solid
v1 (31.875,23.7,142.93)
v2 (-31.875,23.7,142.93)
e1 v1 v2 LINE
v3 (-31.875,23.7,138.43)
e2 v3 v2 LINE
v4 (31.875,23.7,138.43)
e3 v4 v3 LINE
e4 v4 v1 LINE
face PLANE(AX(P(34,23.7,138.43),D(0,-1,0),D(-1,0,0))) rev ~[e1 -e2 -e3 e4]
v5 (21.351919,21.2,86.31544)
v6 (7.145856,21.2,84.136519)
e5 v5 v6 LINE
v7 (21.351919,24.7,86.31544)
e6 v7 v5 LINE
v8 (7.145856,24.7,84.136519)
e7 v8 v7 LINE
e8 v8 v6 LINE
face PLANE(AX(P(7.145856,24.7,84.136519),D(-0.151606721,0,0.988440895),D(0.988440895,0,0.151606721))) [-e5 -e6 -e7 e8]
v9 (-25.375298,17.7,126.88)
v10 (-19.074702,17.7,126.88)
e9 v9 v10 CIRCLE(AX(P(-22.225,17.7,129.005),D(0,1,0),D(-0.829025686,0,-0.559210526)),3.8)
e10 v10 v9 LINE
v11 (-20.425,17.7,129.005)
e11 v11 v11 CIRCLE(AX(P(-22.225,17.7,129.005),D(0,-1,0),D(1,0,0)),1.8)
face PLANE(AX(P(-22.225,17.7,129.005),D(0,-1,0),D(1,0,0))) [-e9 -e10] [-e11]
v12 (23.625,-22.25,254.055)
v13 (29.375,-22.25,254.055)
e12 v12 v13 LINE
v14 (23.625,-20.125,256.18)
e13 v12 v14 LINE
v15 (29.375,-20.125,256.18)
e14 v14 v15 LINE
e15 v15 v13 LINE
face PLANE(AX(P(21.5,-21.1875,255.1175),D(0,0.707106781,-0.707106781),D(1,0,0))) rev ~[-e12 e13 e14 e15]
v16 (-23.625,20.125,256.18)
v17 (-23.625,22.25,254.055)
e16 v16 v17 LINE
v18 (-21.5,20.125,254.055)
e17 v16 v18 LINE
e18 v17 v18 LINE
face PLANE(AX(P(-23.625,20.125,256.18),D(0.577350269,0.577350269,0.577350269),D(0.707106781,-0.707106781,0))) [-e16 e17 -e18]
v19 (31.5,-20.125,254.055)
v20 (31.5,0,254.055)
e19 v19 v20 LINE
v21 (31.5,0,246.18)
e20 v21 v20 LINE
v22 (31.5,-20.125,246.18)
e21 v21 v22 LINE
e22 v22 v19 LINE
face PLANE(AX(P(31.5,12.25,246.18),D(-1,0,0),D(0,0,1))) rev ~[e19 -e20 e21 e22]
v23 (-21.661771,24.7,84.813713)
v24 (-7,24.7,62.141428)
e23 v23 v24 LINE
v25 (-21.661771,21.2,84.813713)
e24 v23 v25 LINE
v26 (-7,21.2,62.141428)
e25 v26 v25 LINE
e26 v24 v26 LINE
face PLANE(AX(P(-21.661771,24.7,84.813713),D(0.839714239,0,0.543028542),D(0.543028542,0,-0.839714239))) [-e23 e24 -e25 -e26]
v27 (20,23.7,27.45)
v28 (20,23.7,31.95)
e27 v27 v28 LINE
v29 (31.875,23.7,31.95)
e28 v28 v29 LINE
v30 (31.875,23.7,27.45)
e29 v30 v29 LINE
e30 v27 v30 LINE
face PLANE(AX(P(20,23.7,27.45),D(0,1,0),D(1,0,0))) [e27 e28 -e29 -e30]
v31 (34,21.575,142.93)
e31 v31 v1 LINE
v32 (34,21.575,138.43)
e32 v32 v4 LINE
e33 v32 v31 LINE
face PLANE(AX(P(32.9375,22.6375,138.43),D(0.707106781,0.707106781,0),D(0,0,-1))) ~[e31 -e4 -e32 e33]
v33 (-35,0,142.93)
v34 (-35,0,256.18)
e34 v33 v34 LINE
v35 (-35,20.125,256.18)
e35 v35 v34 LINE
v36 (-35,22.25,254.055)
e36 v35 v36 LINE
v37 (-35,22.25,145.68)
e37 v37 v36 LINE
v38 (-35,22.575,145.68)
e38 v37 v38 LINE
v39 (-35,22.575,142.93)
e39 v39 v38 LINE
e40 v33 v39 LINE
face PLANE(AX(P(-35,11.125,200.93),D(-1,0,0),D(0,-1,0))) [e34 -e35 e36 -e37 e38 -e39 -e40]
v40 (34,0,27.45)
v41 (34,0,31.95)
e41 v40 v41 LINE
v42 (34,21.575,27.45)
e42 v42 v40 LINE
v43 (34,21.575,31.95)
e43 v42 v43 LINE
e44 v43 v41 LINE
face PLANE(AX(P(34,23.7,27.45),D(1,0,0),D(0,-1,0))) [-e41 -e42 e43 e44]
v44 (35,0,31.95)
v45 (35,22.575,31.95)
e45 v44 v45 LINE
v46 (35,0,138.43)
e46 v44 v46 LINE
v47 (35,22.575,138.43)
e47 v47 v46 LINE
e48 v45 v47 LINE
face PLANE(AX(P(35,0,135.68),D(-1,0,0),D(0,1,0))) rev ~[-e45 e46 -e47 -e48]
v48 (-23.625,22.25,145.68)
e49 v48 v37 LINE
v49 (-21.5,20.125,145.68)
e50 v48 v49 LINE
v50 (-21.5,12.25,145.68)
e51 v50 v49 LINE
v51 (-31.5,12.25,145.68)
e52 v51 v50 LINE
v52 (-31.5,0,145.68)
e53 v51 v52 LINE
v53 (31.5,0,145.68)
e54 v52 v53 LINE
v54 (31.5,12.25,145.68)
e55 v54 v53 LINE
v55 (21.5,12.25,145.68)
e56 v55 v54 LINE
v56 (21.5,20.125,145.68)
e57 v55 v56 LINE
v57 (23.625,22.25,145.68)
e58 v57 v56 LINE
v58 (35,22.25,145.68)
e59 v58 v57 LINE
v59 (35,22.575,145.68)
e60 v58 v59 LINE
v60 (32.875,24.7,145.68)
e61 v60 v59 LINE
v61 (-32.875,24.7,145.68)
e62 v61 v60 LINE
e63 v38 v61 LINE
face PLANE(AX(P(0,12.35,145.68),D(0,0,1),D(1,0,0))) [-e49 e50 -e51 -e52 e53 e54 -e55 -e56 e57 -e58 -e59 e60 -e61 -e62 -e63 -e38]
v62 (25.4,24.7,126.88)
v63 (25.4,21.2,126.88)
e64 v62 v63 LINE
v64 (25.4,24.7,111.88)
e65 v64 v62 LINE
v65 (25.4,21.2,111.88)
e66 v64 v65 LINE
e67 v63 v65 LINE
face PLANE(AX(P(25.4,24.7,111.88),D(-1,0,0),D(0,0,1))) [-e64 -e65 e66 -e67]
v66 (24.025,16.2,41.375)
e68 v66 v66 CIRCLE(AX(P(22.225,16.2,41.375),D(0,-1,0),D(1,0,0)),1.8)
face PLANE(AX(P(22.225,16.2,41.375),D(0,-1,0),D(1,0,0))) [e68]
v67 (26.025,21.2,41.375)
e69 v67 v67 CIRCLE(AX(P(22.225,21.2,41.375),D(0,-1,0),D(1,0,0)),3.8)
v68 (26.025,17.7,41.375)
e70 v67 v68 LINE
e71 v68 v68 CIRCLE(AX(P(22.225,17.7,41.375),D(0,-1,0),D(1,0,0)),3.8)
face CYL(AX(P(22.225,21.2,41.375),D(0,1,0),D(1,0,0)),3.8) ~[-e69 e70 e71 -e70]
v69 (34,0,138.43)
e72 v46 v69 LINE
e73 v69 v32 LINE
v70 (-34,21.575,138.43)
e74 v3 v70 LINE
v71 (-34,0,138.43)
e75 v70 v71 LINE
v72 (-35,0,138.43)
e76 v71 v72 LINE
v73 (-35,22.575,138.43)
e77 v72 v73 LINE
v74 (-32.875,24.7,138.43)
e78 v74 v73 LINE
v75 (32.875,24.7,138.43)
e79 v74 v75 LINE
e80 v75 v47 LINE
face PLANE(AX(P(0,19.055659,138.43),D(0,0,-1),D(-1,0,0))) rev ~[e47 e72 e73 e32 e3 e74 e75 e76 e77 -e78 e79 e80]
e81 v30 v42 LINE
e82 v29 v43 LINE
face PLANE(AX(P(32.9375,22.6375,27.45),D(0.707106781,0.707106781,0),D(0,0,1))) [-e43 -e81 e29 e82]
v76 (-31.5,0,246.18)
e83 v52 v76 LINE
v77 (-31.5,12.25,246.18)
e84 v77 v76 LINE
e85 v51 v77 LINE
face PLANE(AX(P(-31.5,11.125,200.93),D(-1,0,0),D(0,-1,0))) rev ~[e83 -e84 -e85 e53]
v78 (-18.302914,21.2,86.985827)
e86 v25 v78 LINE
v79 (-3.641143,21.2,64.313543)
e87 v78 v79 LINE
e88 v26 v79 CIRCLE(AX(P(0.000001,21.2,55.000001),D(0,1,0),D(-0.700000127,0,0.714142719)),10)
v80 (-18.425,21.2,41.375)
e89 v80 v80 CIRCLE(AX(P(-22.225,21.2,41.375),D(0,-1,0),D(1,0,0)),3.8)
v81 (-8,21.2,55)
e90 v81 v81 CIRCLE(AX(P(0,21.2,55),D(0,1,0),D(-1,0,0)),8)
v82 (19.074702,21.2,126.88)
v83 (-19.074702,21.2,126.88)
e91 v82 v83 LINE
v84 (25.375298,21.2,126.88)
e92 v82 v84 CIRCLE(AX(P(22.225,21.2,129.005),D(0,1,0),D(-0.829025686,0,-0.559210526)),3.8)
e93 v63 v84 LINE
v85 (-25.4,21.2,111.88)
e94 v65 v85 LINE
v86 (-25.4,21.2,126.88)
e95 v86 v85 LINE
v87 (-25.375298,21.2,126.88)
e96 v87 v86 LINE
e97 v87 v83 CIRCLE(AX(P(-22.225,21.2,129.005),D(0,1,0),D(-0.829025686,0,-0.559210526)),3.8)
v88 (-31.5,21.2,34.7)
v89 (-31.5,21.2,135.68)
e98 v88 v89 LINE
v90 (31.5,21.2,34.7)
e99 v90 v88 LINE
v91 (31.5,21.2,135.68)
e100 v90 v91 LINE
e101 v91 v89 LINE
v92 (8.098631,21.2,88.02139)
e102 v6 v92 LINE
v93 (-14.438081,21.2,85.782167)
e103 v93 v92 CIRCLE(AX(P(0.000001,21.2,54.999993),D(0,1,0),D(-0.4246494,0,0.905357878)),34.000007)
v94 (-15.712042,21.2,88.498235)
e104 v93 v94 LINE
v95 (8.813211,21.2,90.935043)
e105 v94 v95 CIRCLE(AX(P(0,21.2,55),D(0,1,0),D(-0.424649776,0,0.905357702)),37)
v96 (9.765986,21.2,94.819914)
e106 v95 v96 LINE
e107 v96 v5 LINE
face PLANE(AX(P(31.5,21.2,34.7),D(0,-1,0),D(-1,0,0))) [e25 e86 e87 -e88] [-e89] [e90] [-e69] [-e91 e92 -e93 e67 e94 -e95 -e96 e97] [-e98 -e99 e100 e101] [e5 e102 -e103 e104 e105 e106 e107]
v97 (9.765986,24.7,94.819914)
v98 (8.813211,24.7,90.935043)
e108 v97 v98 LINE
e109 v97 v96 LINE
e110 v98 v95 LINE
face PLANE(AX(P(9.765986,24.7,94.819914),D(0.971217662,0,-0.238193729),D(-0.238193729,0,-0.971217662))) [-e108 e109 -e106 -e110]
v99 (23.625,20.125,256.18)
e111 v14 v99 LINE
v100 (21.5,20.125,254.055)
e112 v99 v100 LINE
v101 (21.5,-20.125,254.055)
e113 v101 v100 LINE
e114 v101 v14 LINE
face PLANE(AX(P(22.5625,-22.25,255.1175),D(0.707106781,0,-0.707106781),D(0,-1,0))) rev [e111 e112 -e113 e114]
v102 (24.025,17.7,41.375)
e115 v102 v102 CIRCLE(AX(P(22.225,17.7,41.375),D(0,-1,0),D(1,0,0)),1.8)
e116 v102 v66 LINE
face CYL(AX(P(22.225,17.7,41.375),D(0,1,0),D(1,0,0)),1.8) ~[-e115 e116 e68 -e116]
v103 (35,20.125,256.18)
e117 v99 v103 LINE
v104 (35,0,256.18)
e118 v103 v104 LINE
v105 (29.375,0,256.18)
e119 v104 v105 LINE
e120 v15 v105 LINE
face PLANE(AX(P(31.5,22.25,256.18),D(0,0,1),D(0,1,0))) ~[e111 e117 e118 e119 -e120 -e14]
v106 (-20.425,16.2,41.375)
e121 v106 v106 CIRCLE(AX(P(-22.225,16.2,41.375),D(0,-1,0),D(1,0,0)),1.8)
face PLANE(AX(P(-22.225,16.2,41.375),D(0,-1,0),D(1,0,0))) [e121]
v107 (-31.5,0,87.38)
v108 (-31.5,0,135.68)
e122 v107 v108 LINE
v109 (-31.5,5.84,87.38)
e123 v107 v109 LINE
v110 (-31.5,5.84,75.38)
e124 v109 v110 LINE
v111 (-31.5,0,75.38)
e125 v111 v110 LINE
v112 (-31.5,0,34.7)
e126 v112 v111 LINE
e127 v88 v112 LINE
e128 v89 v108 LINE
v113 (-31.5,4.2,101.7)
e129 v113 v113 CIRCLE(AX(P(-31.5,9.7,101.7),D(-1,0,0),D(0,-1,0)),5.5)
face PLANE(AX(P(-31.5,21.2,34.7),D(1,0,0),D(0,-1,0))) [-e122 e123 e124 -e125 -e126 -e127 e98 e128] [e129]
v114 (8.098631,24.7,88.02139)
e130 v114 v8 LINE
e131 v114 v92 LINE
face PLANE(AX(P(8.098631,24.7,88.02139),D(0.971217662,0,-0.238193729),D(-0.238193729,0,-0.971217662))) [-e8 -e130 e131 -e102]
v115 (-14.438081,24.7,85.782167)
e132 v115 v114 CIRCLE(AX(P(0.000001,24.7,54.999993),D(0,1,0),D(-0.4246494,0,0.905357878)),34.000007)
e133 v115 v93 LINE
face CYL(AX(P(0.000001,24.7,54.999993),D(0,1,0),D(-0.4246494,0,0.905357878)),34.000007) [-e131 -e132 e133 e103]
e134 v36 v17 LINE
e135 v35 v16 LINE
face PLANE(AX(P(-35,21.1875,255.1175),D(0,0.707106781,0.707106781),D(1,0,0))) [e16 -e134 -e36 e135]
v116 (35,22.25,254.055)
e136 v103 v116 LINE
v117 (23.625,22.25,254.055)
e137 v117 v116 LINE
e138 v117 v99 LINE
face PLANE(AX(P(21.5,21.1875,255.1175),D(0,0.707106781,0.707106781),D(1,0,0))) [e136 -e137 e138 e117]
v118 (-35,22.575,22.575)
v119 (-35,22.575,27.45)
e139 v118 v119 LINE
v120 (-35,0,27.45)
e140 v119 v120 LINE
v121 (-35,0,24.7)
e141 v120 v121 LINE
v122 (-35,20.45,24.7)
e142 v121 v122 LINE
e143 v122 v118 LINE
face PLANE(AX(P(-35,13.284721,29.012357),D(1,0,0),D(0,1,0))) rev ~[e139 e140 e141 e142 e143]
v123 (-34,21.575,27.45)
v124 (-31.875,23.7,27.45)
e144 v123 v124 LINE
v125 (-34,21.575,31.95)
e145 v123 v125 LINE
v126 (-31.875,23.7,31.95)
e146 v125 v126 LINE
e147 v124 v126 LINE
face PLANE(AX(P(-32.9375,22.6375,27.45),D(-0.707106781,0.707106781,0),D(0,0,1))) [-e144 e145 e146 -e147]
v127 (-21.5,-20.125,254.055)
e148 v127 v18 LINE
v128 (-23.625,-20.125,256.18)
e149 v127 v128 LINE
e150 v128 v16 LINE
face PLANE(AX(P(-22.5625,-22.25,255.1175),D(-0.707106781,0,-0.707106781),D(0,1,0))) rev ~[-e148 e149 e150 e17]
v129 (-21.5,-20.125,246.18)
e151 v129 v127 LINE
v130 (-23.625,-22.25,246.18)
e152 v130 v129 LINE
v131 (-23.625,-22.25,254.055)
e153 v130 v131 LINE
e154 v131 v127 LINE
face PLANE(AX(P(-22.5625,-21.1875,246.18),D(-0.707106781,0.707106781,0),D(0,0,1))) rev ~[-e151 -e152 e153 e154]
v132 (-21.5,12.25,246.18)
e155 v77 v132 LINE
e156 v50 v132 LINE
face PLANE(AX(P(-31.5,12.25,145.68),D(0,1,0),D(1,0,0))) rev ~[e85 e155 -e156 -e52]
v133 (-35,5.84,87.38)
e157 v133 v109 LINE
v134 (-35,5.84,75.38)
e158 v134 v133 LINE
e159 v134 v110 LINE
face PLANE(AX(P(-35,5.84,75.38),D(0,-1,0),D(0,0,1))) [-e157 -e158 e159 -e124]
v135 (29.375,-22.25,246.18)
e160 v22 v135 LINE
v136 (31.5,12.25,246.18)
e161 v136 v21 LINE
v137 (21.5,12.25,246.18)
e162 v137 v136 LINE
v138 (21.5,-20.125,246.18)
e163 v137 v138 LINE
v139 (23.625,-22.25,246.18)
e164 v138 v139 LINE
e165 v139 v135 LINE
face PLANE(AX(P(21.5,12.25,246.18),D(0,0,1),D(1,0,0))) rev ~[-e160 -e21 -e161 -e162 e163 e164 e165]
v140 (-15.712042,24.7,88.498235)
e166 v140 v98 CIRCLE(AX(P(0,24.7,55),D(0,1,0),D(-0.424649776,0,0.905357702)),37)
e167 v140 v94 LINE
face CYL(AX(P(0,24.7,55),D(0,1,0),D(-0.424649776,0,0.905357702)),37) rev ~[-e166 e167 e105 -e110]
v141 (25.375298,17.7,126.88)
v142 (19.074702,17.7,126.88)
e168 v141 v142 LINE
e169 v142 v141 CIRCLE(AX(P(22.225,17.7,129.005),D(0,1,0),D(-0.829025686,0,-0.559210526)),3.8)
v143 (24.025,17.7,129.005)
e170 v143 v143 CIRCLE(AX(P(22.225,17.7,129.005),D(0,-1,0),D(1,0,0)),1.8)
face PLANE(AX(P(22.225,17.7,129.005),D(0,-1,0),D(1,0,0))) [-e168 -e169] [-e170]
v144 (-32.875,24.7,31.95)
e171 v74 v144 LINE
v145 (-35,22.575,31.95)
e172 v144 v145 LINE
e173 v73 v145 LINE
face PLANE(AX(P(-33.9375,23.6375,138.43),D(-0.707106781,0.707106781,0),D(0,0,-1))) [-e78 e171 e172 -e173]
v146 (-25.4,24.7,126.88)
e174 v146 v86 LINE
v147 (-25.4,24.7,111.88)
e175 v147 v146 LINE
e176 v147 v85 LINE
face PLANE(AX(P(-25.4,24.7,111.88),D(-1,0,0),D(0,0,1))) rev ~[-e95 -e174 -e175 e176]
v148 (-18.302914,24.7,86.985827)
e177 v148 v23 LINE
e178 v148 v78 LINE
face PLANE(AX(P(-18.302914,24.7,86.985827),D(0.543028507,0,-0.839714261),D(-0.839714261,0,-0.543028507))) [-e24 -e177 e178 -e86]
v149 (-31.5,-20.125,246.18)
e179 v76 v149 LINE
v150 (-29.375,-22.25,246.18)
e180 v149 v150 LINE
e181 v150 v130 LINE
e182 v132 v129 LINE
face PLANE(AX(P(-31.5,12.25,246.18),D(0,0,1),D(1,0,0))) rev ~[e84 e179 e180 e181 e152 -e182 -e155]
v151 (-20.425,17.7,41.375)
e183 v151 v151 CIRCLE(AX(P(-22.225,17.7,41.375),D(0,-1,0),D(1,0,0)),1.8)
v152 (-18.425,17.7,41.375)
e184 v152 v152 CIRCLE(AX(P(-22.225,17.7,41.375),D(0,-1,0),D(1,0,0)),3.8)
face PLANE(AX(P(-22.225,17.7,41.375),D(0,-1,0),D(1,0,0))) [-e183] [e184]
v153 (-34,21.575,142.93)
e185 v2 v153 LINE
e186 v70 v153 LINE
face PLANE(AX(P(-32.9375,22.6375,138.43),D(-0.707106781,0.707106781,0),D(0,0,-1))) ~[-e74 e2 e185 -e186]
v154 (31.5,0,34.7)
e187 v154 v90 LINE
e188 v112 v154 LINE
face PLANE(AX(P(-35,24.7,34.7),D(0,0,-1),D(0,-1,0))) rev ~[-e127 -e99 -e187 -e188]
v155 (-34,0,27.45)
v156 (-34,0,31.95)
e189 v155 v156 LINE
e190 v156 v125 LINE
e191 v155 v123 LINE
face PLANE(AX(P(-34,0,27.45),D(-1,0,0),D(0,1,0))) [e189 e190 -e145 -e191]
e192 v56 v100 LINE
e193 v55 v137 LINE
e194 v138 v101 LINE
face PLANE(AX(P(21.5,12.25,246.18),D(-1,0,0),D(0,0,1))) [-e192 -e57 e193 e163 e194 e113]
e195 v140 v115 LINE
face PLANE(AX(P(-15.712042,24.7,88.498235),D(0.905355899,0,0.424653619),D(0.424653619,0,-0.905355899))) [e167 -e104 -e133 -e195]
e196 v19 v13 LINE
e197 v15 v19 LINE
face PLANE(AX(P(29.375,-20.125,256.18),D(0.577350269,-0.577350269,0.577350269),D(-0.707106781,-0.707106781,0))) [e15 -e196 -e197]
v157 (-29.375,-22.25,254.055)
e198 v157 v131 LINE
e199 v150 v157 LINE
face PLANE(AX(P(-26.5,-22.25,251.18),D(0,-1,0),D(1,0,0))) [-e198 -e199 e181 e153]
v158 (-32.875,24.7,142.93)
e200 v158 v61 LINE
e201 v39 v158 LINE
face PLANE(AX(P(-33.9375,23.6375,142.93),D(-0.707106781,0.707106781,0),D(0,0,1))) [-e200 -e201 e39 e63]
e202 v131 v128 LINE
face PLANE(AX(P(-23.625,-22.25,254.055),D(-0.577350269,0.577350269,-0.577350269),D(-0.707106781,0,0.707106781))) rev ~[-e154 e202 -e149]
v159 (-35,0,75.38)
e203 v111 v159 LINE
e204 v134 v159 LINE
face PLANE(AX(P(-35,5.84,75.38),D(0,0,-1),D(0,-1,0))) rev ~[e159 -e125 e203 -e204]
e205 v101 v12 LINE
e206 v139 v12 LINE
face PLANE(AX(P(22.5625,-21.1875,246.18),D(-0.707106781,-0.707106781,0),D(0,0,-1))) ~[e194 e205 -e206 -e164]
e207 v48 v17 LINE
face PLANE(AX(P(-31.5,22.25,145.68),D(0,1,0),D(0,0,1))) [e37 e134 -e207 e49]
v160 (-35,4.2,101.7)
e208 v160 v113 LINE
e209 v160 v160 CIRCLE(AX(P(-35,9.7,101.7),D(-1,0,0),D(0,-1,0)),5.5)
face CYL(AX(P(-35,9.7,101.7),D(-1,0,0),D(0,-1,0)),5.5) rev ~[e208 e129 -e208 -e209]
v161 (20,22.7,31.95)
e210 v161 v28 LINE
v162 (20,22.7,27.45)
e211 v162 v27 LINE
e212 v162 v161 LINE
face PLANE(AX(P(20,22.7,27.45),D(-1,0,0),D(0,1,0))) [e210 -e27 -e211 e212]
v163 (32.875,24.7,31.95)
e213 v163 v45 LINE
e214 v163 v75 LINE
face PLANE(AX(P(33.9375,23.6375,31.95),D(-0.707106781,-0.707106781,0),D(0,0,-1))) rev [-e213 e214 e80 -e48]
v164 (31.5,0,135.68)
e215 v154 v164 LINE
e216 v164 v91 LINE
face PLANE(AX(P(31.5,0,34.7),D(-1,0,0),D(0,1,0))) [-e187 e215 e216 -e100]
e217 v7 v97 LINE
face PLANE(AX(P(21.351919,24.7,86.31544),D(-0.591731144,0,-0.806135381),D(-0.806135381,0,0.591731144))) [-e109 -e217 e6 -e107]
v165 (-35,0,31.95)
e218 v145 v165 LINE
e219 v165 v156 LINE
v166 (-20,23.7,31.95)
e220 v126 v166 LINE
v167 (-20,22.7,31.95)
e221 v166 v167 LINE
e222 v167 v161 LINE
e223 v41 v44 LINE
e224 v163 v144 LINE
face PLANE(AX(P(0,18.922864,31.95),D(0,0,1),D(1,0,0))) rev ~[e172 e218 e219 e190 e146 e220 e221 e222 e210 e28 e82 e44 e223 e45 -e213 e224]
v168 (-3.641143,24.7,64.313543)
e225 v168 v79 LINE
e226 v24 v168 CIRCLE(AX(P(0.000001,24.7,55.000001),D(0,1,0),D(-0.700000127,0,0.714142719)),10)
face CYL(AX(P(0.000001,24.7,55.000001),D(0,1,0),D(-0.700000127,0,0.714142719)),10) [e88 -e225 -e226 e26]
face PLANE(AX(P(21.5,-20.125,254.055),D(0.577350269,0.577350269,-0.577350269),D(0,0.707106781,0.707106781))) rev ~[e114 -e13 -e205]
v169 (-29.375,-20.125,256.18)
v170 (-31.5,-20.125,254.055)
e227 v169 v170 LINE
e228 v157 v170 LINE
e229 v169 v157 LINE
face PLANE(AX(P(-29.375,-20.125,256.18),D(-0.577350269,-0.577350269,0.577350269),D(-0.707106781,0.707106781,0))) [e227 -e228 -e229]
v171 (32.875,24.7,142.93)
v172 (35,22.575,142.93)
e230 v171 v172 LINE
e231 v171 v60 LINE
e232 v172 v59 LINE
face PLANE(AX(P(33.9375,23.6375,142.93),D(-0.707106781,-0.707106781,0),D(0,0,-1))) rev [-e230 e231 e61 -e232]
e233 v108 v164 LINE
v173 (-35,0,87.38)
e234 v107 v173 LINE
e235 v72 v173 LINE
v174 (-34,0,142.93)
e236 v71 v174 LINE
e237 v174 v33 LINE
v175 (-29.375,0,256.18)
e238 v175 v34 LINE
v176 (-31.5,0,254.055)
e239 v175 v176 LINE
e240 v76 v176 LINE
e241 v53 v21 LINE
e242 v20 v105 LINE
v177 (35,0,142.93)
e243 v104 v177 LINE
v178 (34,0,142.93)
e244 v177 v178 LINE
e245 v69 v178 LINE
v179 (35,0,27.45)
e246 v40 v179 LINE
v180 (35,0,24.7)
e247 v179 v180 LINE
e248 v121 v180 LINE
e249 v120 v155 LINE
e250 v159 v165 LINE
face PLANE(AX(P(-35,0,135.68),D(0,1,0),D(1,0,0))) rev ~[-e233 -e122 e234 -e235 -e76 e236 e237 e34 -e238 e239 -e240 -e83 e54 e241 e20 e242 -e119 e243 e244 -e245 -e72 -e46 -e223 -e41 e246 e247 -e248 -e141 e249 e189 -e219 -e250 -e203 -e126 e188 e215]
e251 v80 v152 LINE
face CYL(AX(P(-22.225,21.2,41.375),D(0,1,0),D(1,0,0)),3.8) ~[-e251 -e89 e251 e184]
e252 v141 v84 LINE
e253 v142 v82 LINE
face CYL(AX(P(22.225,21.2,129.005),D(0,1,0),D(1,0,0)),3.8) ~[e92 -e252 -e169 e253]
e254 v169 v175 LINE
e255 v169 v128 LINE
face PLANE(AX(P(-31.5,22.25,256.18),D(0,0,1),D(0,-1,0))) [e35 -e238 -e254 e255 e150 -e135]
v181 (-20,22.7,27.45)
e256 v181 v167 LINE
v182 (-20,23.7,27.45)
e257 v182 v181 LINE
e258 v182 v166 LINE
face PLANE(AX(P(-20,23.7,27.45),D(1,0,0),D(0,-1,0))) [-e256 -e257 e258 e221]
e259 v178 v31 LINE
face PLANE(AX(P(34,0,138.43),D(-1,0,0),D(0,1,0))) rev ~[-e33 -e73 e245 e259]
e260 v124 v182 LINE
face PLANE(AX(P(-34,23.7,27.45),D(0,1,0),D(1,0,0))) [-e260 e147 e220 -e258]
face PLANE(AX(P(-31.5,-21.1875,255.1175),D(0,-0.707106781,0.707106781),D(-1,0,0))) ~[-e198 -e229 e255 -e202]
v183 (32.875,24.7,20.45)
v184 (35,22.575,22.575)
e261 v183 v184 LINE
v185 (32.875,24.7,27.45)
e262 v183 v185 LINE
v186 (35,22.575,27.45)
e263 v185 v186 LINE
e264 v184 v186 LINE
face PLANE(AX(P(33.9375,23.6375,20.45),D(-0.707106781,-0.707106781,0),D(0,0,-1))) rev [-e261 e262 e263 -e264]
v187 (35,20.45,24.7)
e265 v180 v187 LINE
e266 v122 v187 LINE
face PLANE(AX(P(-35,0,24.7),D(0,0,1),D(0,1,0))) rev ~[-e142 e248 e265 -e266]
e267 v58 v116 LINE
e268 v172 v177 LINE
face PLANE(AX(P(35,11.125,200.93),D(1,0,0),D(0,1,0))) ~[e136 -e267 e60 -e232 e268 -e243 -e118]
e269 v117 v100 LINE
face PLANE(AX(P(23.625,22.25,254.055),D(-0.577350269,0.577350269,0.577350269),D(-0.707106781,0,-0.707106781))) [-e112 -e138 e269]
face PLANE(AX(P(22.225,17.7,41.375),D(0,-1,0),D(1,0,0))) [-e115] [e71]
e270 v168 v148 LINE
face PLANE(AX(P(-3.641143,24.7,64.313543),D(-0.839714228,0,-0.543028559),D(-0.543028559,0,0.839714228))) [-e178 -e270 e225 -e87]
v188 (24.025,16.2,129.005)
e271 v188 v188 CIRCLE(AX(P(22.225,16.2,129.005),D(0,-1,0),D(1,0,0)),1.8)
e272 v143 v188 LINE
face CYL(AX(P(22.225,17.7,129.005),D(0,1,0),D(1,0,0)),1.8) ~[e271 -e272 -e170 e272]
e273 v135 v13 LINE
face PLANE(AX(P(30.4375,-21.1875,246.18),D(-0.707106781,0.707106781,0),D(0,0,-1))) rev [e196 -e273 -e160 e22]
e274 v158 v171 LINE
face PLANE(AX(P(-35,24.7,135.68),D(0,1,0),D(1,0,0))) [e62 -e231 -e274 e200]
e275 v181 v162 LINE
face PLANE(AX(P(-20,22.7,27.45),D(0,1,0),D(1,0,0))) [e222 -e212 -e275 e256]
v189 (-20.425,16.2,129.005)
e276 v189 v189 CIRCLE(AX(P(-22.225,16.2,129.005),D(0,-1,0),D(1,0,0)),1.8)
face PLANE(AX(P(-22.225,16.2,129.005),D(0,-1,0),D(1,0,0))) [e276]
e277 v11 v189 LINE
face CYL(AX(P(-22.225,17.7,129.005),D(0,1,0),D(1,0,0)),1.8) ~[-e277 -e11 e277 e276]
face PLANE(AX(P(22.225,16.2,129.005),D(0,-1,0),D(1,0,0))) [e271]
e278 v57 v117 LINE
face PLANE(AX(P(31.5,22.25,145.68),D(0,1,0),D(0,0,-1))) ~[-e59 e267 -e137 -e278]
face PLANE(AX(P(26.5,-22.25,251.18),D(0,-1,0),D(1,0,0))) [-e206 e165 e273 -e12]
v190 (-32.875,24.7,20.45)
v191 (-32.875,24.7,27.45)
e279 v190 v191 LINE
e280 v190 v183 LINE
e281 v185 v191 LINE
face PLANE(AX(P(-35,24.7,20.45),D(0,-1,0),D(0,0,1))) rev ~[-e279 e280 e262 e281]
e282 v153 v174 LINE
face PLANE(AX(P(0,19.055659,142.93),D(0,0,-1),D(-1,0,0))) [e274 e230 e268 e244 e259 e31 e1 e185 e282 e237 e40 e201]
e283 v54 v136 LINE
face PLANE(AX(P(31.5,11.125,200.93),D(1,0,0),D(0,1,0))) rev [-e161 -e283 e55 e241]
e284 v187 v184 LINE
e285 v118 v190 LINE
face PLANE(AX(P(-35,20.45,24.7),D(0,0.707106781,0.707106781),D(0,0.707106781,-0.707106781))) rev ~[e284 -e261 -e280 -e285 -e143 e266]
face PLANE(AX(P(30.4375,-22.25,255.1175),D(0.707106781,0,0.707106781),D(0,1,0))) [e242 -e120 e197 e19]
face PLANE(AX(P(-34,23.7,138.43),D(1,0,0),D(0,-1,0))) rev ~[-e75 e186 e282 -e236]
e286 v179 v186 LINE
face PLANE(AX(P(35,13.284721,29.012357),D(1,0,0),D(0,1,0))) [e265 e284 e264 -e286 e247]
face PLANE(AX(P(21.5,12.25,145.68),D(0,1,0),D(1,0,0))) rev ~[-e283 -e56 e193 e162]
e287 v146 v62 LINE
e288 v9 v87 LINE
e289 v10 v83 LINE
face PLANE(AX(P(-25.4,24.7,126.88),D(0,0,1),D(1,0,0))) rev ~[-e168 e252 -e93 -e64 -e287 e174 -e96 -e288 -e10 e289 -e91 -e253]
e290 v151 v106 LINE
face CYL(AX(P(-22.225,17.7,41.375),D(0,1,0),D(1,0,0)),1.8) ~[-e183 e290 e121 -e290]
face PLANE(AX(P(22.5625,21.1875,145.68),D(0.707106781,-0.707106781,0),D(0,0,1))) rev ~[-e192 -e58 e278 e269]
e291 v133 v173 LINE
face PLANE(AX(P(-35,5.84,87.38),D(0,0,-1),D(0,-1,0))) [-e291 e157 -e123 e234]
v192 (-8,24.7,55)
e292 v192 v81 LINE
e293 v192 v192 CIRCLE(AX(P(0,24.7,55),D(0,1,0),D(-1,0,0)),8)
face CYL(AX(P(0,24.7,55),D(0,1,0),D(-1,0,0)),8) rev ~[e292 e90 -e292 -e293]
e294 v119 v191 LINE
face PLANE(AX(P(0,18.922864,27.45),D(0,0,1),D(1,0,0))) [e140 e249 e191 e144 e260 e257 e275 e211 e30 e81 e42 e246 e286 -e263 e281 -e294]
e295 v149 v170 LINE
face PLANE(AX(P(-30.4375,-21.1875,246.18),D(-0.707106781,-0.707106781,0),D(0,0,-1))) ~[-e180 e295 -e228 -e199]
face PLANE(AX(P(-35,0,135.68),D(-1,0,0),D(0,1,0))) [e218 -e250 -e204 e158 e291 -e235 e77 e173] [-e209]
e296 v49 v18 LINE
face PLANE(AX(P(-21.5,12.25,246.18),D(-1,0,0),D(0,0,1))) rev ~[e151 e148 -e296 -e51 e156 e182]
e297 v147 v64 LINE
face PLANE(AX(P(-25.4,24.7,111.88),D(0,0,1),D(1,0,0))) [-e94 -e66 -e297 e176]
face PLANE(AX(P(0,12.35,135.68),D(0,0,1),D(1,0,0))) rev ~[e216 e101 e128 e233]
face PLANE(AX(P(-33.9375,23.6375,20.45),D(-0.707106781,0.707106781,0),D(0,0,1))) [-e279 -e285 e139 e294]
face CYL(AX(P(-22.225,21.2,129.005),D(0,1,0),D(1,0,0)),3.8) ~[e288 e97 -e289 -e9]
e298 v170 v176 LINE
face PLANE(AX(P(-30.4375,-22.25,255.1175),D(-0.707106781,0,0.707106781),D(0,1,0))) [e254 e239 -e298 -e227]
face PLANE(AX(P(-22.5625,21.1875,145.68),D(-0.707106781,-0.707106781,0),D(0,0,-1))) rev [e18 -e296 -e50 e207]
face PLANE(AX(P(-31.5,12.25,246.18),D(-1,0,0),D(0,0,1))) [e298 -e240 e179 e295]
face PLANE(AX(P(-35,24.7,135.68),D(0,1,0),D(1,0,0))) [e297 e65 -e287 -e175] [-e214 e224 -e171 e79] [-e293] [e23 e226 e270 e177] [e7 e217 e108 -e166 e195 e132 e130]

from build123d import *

# Parameters (mm, degrees)
PAD017_DEPTH    = 4.5
SKETCH028_W     = 50.8
SKETCH028_H     = 15
PAD024_DEPTH    = 10
PAD021_DEPTH    = 100.98
SKETCH025_R     = 3.8
PAD022_DEPTH    = 3.5
SKETCH026_R     = 1.8
PAD023_DEPTH    = 1.5
SKETCH042_R     = 8
POCKET002_DEPTH = 5
PAD031_DEPTH    = 4.5
SKETCH034_W     = 70
SKETCH034_H     = 24.7
PAD030_DEPTH    = 10
SKETCH037_W     = 10
SKETCH037_H     = 10
PAD033_DEPTH    = 110.5
SKETCH038_W     = 10
SKETCH038_H     = 10
PAD034_DEPTH    = 34.5
SKETCH039_W     = 10
SKETCH039_H     = 10
PAD035_DEPTH    = 34.5
SKETCH040_W     = 22.25
SKETCH040_H     = 110.5
PAD036_DEPTH    = 3.5
PAD016_DEPTH    = 70
CHAMFER010_SIZE = 2.125
CHAMFER012_SIZE = 2.125
SKETCH044_R     = 5.5
SKETCH044_W     = 7
SKETCH044_H     = 12
POCKET004_DEPTH = 5


with BuildPart() as band2:
    # Sketch020 → Pad017 (new body)
    with BuildSketch(Plane.XY.offset(27.45)):
        Polygon((-35, 24.7), (-35, 0), (-34, 0), (-34, 23.7), (-20, 23.7), (-20, 22.7), (20, 22.7), (20, 23.7), (34, 23.7), (34, 0), (35, 0), (35, 24.7), align=None)
    extrude(amount=PAD017_DEPTH)


with BuildPart() as body012:
    # Sketch028 → Pad024 (new body)
    with BuildSketch(Plane.XZ.offset(-24.7)):
        with Locations((0, 119.38)):
            Rectangle(SKETCH028_W, SKETCH028_H)
    extrude(amount=PAD024_DEPTH)


with BuildPart() as boardbacking:
    # Sketch024 → Pad021 (new body)
    with BuildSketch(Plane.XY.offset(34.7)):
        Polygon((-35, 0), (-35, 24.7), (35, 24.7), (35, 0), (31.5, 0), (31.5, 21.2), (-31.5, 21.2), (-31.5, 0), align=None)
    extrude(amount=PAD021_DEPTH)

    # Sketch025 (on Face6 of Pad021) → Pad022 (join)
    with BuildSketch(Plane.XZ.offset(-21.2)):
        with Locations((-22.225, 129.005)):
            Circle(SKETCH025_R)
        with Locations((22.225, 129.005)):
            Circle(SKETCH025_R)
        with Locations((-22.225, 41.375)):
            Circle(SKETCH025_R)
        with Locations((22.225, 41.375)):
            Circle(SKETCH025_R)
    extrude(amount=PAD022_DEPTH)

    # Sketch026 → Pad023 (join)
    with BuildSketch(Plane.XZ.offset(-17.7)):
        with Locations((-22.225, 129.005)):
            Circle(SKETCH026_R)
        with Locations((22.225, 129.005)):
            Circle(SKETCH026_R)
        with Locations((-22.225, 41.375)):
            Circle(SKETCH026_R)
        with Locations((22.225, 41.375)):
            Circle(SKETCH026_R)
    extrude(amount=PAD023_DEPTH)

    # Boolean005: cut Body012
    add(body012.part, mode=Mode.SUBTRACT)

    # Sketch042 (on Face3 of Boolean005) → Pocket002 (cut)
    with BuildSketch(Plane(origin=(0, 24.7, 0), x_dir=(-1, 0, 0), z_dir=(0, 1, 0))):
        with Locations((0, 55)):
            Circle(SKETCH042_R)
        with BuildLine():
            Line((3.641143, 64.313543), (18.302914, 86.985827))
            Line((18.302914, 86.985827), (21.661771, 84.813713))
            Line((21.661771, 84.813713), (7, 62.141428))
            ThreePointArc((7, 62.141428), (5.430286, 63.397142), (3.641143, 64.313543))
        make_face()
        with BuildLine():
            ThreePointArc((15.712042, 88.498235), (3.658274, 91.818705), (-8.813211, 90.935043))
            Line((-9.765986, 94.819914), (-8.813211, 90.935043))
            Line((-21.351919, 86.31544), (-9.765986, 94.819914))
            Line((-7.145856, 84.136519), (-21.351919, 86.31544))
            Line((-8.098631, 88.02139), (-7.145856, 84.136519))
            ThreePointArc((14.438081, 85.782167), (3.361649, 88.833405), (-8.098631, 88.02139))
            Line((15.712042, 88.498235), (14.438081, 85.782167))
        make_face()
    extrude(amount=-POCKET002_DEPTH, mode=Mode.SUBTRACT)


with BuildPart() as body017:
    # Sketch035 → Pad031 (new body)
    with BuildSketch(Plane.XY.offset(138.43)):
        Polygon((-35, 0), (-35, 24.7), (35, 24.7), (35, 0), (34, 0), (34, 23.7), (-34, 23.7), (-34, 0), align=None)
    extrude(amount=PAD031_DEPTH)


with BuildPart() as zip003:
    # Sketch034 → Pad030 (new body)
    with BuildSketch(Plane.XY.offset(135.68)):
        with Locations((0, 12.35)):
            Rectangle(SKETCH034_W, SKETCH034_H)
    extrude(amount=PAD030_DEPTH)

    # Boolean007: cut Body017
    add(body017.part, mode=Mode.SUBTRACT)

    # Sketch037 (on Face12 of Boolean007) → Pad033 (join)
    with BuildSketch(Plane.XY.offset(145.68)):
        with Locations((-26.5, 17.25)):
            Rectangle(SKETCH037_W, SKETCH037_H)
        with Locations((26.5, 17.25)):
            Rectangle(SKETCH037_W, SKETCH037_H)
    extrude(amount=PAD033_DEPTH)

    # Sketch038 (on Face21 of Pad033) → Pad034 (join)
    with BuildSketch(Plane.XZ.offset(-12.25)):
        with Locations((-26.5, 251.18)):
            Rectangle(SKETCH038_W, SKETCH038_H)
    extrude(amount=PAD034_DEPTH)

    # Sketch039 (on Face17 of Pad034) → Pad035 (join)
    with BuildSketch(Plane.XZ.offset(-12.25)):
        with Locations((26.5, 251.18)):
            Rectangle(SKETCH039_W, SKETCH039_H)
    extrude(amount=PAD035_DEPTH)

    # Sketch040 (on Face22 of Pad035) → Pad036 (join)
    with BuildSketch(Plane(origin=(-31.5, 0, 0), x_dir=(0, -1, 0), z_dir=(-1, 0, 0))):
        with Locations((-11.125, 200.93)):
            Rectangle(SKETCH040_W, SKETCH040_H)
    pad036 = extrude(amount=PAD036_DEPTH)

    # Mirrored: Pad036 across YZ
    add(pad036.mirror(Plane.YZ))


with BuildPart() as frame:
    # Sketch019 → Pad016 (new body)
    with BuildSketch(Plane.YZ.offset(-35)):
        Polygon((0, 34.7), (0, 24.7), (20.45, 24.7), (24.7, 20.45), (24.7, 34.7), align=None)
    extrude(amount=PAD016_DEPTH)

    # Boolean004: cut Band2
    add(band2.part, mode=Mode.SUBTRACT)

    # Boolean008: union BoardBacking, Zip003
    add(boardbacking.part)
    add(zip003.part)

    # Chamfer010
    chamfer010_edges = [frame.edges().sort_by_distance(p)[0] for p in [
        (35, 24.7, 23.95),
        (34, 23.7, 29.7),
        (35, 24.7, 33.325),
        (35, 24.7, 85.19),
        (35, 24.7, 137.055),
        (34, 23.7, 140.68),
        (35, 24.7, 144.305),
        (-35, 24.7, 144.305),
        (-34, 23.7, 140.68),
        (-35, 24.7, 137.055),
        (-35, 24.7, 85.19),
        (-35, 24.7, 33.325),
        (-34, 23.7, 29.7),
        (-35, 24.7, 23.95),
    ]]
    chamfer(chamfer010_edges, length=CHAMFER010_SIZE)

    # Chamfer012
    chamfer012_edges = [frame.edges().sort_by_distance(p)[0] for p in [
        (31.5, -22.25, 251.18),
        (31.5, -11.125, 256.18),
        (26.5, -22.25, 256.18),
        (21.5, -22.25, 251.18),
        (21.5, -5, 256.18),
        (21.5, 17.25, 256.18),
        (26.5, 22.25, 256.18),
        (33.25, 22.25, 256.18),
        (21.5, 22.25, 200.93),
        (-21.5, 22.25, 200.93),
        (-26.5, 22.25, 256.18),
        (-33.25, 22.25, 256.18),
        (-21.5, 17.25, 256.18),
        (-21.5, -5, 256.18),
        (-21.5, -22.25, 251.18),
        (-31.5, -22.25, 251.18),
        (-26.5, -22.25, 256.18),
        (-31.5, -11.125, 256.18),
    ]]
    chamfer(chamfer012_edges, length=CHAMFER012_SIZE)

    # Sketch044 (on Face54 of Chamfer012) → Pocket004 (cut)
    with BuildSketch(Plane(origin=(-35, 0, 0), x_dir=(0, -1, 0), z_dir=(-1, 0, 0))):
        with Locations((-9.7, 101.7)):
            Circle(SKETCH044_R)
        with Locations((-2.34, 81.38)):
            Rectangle(SKETCH044_W, SKETCH044_H)
    extrude(amount=-POCKET004_DEPTH, mode=Mode.SUBTRACT)


solid = frame.part
